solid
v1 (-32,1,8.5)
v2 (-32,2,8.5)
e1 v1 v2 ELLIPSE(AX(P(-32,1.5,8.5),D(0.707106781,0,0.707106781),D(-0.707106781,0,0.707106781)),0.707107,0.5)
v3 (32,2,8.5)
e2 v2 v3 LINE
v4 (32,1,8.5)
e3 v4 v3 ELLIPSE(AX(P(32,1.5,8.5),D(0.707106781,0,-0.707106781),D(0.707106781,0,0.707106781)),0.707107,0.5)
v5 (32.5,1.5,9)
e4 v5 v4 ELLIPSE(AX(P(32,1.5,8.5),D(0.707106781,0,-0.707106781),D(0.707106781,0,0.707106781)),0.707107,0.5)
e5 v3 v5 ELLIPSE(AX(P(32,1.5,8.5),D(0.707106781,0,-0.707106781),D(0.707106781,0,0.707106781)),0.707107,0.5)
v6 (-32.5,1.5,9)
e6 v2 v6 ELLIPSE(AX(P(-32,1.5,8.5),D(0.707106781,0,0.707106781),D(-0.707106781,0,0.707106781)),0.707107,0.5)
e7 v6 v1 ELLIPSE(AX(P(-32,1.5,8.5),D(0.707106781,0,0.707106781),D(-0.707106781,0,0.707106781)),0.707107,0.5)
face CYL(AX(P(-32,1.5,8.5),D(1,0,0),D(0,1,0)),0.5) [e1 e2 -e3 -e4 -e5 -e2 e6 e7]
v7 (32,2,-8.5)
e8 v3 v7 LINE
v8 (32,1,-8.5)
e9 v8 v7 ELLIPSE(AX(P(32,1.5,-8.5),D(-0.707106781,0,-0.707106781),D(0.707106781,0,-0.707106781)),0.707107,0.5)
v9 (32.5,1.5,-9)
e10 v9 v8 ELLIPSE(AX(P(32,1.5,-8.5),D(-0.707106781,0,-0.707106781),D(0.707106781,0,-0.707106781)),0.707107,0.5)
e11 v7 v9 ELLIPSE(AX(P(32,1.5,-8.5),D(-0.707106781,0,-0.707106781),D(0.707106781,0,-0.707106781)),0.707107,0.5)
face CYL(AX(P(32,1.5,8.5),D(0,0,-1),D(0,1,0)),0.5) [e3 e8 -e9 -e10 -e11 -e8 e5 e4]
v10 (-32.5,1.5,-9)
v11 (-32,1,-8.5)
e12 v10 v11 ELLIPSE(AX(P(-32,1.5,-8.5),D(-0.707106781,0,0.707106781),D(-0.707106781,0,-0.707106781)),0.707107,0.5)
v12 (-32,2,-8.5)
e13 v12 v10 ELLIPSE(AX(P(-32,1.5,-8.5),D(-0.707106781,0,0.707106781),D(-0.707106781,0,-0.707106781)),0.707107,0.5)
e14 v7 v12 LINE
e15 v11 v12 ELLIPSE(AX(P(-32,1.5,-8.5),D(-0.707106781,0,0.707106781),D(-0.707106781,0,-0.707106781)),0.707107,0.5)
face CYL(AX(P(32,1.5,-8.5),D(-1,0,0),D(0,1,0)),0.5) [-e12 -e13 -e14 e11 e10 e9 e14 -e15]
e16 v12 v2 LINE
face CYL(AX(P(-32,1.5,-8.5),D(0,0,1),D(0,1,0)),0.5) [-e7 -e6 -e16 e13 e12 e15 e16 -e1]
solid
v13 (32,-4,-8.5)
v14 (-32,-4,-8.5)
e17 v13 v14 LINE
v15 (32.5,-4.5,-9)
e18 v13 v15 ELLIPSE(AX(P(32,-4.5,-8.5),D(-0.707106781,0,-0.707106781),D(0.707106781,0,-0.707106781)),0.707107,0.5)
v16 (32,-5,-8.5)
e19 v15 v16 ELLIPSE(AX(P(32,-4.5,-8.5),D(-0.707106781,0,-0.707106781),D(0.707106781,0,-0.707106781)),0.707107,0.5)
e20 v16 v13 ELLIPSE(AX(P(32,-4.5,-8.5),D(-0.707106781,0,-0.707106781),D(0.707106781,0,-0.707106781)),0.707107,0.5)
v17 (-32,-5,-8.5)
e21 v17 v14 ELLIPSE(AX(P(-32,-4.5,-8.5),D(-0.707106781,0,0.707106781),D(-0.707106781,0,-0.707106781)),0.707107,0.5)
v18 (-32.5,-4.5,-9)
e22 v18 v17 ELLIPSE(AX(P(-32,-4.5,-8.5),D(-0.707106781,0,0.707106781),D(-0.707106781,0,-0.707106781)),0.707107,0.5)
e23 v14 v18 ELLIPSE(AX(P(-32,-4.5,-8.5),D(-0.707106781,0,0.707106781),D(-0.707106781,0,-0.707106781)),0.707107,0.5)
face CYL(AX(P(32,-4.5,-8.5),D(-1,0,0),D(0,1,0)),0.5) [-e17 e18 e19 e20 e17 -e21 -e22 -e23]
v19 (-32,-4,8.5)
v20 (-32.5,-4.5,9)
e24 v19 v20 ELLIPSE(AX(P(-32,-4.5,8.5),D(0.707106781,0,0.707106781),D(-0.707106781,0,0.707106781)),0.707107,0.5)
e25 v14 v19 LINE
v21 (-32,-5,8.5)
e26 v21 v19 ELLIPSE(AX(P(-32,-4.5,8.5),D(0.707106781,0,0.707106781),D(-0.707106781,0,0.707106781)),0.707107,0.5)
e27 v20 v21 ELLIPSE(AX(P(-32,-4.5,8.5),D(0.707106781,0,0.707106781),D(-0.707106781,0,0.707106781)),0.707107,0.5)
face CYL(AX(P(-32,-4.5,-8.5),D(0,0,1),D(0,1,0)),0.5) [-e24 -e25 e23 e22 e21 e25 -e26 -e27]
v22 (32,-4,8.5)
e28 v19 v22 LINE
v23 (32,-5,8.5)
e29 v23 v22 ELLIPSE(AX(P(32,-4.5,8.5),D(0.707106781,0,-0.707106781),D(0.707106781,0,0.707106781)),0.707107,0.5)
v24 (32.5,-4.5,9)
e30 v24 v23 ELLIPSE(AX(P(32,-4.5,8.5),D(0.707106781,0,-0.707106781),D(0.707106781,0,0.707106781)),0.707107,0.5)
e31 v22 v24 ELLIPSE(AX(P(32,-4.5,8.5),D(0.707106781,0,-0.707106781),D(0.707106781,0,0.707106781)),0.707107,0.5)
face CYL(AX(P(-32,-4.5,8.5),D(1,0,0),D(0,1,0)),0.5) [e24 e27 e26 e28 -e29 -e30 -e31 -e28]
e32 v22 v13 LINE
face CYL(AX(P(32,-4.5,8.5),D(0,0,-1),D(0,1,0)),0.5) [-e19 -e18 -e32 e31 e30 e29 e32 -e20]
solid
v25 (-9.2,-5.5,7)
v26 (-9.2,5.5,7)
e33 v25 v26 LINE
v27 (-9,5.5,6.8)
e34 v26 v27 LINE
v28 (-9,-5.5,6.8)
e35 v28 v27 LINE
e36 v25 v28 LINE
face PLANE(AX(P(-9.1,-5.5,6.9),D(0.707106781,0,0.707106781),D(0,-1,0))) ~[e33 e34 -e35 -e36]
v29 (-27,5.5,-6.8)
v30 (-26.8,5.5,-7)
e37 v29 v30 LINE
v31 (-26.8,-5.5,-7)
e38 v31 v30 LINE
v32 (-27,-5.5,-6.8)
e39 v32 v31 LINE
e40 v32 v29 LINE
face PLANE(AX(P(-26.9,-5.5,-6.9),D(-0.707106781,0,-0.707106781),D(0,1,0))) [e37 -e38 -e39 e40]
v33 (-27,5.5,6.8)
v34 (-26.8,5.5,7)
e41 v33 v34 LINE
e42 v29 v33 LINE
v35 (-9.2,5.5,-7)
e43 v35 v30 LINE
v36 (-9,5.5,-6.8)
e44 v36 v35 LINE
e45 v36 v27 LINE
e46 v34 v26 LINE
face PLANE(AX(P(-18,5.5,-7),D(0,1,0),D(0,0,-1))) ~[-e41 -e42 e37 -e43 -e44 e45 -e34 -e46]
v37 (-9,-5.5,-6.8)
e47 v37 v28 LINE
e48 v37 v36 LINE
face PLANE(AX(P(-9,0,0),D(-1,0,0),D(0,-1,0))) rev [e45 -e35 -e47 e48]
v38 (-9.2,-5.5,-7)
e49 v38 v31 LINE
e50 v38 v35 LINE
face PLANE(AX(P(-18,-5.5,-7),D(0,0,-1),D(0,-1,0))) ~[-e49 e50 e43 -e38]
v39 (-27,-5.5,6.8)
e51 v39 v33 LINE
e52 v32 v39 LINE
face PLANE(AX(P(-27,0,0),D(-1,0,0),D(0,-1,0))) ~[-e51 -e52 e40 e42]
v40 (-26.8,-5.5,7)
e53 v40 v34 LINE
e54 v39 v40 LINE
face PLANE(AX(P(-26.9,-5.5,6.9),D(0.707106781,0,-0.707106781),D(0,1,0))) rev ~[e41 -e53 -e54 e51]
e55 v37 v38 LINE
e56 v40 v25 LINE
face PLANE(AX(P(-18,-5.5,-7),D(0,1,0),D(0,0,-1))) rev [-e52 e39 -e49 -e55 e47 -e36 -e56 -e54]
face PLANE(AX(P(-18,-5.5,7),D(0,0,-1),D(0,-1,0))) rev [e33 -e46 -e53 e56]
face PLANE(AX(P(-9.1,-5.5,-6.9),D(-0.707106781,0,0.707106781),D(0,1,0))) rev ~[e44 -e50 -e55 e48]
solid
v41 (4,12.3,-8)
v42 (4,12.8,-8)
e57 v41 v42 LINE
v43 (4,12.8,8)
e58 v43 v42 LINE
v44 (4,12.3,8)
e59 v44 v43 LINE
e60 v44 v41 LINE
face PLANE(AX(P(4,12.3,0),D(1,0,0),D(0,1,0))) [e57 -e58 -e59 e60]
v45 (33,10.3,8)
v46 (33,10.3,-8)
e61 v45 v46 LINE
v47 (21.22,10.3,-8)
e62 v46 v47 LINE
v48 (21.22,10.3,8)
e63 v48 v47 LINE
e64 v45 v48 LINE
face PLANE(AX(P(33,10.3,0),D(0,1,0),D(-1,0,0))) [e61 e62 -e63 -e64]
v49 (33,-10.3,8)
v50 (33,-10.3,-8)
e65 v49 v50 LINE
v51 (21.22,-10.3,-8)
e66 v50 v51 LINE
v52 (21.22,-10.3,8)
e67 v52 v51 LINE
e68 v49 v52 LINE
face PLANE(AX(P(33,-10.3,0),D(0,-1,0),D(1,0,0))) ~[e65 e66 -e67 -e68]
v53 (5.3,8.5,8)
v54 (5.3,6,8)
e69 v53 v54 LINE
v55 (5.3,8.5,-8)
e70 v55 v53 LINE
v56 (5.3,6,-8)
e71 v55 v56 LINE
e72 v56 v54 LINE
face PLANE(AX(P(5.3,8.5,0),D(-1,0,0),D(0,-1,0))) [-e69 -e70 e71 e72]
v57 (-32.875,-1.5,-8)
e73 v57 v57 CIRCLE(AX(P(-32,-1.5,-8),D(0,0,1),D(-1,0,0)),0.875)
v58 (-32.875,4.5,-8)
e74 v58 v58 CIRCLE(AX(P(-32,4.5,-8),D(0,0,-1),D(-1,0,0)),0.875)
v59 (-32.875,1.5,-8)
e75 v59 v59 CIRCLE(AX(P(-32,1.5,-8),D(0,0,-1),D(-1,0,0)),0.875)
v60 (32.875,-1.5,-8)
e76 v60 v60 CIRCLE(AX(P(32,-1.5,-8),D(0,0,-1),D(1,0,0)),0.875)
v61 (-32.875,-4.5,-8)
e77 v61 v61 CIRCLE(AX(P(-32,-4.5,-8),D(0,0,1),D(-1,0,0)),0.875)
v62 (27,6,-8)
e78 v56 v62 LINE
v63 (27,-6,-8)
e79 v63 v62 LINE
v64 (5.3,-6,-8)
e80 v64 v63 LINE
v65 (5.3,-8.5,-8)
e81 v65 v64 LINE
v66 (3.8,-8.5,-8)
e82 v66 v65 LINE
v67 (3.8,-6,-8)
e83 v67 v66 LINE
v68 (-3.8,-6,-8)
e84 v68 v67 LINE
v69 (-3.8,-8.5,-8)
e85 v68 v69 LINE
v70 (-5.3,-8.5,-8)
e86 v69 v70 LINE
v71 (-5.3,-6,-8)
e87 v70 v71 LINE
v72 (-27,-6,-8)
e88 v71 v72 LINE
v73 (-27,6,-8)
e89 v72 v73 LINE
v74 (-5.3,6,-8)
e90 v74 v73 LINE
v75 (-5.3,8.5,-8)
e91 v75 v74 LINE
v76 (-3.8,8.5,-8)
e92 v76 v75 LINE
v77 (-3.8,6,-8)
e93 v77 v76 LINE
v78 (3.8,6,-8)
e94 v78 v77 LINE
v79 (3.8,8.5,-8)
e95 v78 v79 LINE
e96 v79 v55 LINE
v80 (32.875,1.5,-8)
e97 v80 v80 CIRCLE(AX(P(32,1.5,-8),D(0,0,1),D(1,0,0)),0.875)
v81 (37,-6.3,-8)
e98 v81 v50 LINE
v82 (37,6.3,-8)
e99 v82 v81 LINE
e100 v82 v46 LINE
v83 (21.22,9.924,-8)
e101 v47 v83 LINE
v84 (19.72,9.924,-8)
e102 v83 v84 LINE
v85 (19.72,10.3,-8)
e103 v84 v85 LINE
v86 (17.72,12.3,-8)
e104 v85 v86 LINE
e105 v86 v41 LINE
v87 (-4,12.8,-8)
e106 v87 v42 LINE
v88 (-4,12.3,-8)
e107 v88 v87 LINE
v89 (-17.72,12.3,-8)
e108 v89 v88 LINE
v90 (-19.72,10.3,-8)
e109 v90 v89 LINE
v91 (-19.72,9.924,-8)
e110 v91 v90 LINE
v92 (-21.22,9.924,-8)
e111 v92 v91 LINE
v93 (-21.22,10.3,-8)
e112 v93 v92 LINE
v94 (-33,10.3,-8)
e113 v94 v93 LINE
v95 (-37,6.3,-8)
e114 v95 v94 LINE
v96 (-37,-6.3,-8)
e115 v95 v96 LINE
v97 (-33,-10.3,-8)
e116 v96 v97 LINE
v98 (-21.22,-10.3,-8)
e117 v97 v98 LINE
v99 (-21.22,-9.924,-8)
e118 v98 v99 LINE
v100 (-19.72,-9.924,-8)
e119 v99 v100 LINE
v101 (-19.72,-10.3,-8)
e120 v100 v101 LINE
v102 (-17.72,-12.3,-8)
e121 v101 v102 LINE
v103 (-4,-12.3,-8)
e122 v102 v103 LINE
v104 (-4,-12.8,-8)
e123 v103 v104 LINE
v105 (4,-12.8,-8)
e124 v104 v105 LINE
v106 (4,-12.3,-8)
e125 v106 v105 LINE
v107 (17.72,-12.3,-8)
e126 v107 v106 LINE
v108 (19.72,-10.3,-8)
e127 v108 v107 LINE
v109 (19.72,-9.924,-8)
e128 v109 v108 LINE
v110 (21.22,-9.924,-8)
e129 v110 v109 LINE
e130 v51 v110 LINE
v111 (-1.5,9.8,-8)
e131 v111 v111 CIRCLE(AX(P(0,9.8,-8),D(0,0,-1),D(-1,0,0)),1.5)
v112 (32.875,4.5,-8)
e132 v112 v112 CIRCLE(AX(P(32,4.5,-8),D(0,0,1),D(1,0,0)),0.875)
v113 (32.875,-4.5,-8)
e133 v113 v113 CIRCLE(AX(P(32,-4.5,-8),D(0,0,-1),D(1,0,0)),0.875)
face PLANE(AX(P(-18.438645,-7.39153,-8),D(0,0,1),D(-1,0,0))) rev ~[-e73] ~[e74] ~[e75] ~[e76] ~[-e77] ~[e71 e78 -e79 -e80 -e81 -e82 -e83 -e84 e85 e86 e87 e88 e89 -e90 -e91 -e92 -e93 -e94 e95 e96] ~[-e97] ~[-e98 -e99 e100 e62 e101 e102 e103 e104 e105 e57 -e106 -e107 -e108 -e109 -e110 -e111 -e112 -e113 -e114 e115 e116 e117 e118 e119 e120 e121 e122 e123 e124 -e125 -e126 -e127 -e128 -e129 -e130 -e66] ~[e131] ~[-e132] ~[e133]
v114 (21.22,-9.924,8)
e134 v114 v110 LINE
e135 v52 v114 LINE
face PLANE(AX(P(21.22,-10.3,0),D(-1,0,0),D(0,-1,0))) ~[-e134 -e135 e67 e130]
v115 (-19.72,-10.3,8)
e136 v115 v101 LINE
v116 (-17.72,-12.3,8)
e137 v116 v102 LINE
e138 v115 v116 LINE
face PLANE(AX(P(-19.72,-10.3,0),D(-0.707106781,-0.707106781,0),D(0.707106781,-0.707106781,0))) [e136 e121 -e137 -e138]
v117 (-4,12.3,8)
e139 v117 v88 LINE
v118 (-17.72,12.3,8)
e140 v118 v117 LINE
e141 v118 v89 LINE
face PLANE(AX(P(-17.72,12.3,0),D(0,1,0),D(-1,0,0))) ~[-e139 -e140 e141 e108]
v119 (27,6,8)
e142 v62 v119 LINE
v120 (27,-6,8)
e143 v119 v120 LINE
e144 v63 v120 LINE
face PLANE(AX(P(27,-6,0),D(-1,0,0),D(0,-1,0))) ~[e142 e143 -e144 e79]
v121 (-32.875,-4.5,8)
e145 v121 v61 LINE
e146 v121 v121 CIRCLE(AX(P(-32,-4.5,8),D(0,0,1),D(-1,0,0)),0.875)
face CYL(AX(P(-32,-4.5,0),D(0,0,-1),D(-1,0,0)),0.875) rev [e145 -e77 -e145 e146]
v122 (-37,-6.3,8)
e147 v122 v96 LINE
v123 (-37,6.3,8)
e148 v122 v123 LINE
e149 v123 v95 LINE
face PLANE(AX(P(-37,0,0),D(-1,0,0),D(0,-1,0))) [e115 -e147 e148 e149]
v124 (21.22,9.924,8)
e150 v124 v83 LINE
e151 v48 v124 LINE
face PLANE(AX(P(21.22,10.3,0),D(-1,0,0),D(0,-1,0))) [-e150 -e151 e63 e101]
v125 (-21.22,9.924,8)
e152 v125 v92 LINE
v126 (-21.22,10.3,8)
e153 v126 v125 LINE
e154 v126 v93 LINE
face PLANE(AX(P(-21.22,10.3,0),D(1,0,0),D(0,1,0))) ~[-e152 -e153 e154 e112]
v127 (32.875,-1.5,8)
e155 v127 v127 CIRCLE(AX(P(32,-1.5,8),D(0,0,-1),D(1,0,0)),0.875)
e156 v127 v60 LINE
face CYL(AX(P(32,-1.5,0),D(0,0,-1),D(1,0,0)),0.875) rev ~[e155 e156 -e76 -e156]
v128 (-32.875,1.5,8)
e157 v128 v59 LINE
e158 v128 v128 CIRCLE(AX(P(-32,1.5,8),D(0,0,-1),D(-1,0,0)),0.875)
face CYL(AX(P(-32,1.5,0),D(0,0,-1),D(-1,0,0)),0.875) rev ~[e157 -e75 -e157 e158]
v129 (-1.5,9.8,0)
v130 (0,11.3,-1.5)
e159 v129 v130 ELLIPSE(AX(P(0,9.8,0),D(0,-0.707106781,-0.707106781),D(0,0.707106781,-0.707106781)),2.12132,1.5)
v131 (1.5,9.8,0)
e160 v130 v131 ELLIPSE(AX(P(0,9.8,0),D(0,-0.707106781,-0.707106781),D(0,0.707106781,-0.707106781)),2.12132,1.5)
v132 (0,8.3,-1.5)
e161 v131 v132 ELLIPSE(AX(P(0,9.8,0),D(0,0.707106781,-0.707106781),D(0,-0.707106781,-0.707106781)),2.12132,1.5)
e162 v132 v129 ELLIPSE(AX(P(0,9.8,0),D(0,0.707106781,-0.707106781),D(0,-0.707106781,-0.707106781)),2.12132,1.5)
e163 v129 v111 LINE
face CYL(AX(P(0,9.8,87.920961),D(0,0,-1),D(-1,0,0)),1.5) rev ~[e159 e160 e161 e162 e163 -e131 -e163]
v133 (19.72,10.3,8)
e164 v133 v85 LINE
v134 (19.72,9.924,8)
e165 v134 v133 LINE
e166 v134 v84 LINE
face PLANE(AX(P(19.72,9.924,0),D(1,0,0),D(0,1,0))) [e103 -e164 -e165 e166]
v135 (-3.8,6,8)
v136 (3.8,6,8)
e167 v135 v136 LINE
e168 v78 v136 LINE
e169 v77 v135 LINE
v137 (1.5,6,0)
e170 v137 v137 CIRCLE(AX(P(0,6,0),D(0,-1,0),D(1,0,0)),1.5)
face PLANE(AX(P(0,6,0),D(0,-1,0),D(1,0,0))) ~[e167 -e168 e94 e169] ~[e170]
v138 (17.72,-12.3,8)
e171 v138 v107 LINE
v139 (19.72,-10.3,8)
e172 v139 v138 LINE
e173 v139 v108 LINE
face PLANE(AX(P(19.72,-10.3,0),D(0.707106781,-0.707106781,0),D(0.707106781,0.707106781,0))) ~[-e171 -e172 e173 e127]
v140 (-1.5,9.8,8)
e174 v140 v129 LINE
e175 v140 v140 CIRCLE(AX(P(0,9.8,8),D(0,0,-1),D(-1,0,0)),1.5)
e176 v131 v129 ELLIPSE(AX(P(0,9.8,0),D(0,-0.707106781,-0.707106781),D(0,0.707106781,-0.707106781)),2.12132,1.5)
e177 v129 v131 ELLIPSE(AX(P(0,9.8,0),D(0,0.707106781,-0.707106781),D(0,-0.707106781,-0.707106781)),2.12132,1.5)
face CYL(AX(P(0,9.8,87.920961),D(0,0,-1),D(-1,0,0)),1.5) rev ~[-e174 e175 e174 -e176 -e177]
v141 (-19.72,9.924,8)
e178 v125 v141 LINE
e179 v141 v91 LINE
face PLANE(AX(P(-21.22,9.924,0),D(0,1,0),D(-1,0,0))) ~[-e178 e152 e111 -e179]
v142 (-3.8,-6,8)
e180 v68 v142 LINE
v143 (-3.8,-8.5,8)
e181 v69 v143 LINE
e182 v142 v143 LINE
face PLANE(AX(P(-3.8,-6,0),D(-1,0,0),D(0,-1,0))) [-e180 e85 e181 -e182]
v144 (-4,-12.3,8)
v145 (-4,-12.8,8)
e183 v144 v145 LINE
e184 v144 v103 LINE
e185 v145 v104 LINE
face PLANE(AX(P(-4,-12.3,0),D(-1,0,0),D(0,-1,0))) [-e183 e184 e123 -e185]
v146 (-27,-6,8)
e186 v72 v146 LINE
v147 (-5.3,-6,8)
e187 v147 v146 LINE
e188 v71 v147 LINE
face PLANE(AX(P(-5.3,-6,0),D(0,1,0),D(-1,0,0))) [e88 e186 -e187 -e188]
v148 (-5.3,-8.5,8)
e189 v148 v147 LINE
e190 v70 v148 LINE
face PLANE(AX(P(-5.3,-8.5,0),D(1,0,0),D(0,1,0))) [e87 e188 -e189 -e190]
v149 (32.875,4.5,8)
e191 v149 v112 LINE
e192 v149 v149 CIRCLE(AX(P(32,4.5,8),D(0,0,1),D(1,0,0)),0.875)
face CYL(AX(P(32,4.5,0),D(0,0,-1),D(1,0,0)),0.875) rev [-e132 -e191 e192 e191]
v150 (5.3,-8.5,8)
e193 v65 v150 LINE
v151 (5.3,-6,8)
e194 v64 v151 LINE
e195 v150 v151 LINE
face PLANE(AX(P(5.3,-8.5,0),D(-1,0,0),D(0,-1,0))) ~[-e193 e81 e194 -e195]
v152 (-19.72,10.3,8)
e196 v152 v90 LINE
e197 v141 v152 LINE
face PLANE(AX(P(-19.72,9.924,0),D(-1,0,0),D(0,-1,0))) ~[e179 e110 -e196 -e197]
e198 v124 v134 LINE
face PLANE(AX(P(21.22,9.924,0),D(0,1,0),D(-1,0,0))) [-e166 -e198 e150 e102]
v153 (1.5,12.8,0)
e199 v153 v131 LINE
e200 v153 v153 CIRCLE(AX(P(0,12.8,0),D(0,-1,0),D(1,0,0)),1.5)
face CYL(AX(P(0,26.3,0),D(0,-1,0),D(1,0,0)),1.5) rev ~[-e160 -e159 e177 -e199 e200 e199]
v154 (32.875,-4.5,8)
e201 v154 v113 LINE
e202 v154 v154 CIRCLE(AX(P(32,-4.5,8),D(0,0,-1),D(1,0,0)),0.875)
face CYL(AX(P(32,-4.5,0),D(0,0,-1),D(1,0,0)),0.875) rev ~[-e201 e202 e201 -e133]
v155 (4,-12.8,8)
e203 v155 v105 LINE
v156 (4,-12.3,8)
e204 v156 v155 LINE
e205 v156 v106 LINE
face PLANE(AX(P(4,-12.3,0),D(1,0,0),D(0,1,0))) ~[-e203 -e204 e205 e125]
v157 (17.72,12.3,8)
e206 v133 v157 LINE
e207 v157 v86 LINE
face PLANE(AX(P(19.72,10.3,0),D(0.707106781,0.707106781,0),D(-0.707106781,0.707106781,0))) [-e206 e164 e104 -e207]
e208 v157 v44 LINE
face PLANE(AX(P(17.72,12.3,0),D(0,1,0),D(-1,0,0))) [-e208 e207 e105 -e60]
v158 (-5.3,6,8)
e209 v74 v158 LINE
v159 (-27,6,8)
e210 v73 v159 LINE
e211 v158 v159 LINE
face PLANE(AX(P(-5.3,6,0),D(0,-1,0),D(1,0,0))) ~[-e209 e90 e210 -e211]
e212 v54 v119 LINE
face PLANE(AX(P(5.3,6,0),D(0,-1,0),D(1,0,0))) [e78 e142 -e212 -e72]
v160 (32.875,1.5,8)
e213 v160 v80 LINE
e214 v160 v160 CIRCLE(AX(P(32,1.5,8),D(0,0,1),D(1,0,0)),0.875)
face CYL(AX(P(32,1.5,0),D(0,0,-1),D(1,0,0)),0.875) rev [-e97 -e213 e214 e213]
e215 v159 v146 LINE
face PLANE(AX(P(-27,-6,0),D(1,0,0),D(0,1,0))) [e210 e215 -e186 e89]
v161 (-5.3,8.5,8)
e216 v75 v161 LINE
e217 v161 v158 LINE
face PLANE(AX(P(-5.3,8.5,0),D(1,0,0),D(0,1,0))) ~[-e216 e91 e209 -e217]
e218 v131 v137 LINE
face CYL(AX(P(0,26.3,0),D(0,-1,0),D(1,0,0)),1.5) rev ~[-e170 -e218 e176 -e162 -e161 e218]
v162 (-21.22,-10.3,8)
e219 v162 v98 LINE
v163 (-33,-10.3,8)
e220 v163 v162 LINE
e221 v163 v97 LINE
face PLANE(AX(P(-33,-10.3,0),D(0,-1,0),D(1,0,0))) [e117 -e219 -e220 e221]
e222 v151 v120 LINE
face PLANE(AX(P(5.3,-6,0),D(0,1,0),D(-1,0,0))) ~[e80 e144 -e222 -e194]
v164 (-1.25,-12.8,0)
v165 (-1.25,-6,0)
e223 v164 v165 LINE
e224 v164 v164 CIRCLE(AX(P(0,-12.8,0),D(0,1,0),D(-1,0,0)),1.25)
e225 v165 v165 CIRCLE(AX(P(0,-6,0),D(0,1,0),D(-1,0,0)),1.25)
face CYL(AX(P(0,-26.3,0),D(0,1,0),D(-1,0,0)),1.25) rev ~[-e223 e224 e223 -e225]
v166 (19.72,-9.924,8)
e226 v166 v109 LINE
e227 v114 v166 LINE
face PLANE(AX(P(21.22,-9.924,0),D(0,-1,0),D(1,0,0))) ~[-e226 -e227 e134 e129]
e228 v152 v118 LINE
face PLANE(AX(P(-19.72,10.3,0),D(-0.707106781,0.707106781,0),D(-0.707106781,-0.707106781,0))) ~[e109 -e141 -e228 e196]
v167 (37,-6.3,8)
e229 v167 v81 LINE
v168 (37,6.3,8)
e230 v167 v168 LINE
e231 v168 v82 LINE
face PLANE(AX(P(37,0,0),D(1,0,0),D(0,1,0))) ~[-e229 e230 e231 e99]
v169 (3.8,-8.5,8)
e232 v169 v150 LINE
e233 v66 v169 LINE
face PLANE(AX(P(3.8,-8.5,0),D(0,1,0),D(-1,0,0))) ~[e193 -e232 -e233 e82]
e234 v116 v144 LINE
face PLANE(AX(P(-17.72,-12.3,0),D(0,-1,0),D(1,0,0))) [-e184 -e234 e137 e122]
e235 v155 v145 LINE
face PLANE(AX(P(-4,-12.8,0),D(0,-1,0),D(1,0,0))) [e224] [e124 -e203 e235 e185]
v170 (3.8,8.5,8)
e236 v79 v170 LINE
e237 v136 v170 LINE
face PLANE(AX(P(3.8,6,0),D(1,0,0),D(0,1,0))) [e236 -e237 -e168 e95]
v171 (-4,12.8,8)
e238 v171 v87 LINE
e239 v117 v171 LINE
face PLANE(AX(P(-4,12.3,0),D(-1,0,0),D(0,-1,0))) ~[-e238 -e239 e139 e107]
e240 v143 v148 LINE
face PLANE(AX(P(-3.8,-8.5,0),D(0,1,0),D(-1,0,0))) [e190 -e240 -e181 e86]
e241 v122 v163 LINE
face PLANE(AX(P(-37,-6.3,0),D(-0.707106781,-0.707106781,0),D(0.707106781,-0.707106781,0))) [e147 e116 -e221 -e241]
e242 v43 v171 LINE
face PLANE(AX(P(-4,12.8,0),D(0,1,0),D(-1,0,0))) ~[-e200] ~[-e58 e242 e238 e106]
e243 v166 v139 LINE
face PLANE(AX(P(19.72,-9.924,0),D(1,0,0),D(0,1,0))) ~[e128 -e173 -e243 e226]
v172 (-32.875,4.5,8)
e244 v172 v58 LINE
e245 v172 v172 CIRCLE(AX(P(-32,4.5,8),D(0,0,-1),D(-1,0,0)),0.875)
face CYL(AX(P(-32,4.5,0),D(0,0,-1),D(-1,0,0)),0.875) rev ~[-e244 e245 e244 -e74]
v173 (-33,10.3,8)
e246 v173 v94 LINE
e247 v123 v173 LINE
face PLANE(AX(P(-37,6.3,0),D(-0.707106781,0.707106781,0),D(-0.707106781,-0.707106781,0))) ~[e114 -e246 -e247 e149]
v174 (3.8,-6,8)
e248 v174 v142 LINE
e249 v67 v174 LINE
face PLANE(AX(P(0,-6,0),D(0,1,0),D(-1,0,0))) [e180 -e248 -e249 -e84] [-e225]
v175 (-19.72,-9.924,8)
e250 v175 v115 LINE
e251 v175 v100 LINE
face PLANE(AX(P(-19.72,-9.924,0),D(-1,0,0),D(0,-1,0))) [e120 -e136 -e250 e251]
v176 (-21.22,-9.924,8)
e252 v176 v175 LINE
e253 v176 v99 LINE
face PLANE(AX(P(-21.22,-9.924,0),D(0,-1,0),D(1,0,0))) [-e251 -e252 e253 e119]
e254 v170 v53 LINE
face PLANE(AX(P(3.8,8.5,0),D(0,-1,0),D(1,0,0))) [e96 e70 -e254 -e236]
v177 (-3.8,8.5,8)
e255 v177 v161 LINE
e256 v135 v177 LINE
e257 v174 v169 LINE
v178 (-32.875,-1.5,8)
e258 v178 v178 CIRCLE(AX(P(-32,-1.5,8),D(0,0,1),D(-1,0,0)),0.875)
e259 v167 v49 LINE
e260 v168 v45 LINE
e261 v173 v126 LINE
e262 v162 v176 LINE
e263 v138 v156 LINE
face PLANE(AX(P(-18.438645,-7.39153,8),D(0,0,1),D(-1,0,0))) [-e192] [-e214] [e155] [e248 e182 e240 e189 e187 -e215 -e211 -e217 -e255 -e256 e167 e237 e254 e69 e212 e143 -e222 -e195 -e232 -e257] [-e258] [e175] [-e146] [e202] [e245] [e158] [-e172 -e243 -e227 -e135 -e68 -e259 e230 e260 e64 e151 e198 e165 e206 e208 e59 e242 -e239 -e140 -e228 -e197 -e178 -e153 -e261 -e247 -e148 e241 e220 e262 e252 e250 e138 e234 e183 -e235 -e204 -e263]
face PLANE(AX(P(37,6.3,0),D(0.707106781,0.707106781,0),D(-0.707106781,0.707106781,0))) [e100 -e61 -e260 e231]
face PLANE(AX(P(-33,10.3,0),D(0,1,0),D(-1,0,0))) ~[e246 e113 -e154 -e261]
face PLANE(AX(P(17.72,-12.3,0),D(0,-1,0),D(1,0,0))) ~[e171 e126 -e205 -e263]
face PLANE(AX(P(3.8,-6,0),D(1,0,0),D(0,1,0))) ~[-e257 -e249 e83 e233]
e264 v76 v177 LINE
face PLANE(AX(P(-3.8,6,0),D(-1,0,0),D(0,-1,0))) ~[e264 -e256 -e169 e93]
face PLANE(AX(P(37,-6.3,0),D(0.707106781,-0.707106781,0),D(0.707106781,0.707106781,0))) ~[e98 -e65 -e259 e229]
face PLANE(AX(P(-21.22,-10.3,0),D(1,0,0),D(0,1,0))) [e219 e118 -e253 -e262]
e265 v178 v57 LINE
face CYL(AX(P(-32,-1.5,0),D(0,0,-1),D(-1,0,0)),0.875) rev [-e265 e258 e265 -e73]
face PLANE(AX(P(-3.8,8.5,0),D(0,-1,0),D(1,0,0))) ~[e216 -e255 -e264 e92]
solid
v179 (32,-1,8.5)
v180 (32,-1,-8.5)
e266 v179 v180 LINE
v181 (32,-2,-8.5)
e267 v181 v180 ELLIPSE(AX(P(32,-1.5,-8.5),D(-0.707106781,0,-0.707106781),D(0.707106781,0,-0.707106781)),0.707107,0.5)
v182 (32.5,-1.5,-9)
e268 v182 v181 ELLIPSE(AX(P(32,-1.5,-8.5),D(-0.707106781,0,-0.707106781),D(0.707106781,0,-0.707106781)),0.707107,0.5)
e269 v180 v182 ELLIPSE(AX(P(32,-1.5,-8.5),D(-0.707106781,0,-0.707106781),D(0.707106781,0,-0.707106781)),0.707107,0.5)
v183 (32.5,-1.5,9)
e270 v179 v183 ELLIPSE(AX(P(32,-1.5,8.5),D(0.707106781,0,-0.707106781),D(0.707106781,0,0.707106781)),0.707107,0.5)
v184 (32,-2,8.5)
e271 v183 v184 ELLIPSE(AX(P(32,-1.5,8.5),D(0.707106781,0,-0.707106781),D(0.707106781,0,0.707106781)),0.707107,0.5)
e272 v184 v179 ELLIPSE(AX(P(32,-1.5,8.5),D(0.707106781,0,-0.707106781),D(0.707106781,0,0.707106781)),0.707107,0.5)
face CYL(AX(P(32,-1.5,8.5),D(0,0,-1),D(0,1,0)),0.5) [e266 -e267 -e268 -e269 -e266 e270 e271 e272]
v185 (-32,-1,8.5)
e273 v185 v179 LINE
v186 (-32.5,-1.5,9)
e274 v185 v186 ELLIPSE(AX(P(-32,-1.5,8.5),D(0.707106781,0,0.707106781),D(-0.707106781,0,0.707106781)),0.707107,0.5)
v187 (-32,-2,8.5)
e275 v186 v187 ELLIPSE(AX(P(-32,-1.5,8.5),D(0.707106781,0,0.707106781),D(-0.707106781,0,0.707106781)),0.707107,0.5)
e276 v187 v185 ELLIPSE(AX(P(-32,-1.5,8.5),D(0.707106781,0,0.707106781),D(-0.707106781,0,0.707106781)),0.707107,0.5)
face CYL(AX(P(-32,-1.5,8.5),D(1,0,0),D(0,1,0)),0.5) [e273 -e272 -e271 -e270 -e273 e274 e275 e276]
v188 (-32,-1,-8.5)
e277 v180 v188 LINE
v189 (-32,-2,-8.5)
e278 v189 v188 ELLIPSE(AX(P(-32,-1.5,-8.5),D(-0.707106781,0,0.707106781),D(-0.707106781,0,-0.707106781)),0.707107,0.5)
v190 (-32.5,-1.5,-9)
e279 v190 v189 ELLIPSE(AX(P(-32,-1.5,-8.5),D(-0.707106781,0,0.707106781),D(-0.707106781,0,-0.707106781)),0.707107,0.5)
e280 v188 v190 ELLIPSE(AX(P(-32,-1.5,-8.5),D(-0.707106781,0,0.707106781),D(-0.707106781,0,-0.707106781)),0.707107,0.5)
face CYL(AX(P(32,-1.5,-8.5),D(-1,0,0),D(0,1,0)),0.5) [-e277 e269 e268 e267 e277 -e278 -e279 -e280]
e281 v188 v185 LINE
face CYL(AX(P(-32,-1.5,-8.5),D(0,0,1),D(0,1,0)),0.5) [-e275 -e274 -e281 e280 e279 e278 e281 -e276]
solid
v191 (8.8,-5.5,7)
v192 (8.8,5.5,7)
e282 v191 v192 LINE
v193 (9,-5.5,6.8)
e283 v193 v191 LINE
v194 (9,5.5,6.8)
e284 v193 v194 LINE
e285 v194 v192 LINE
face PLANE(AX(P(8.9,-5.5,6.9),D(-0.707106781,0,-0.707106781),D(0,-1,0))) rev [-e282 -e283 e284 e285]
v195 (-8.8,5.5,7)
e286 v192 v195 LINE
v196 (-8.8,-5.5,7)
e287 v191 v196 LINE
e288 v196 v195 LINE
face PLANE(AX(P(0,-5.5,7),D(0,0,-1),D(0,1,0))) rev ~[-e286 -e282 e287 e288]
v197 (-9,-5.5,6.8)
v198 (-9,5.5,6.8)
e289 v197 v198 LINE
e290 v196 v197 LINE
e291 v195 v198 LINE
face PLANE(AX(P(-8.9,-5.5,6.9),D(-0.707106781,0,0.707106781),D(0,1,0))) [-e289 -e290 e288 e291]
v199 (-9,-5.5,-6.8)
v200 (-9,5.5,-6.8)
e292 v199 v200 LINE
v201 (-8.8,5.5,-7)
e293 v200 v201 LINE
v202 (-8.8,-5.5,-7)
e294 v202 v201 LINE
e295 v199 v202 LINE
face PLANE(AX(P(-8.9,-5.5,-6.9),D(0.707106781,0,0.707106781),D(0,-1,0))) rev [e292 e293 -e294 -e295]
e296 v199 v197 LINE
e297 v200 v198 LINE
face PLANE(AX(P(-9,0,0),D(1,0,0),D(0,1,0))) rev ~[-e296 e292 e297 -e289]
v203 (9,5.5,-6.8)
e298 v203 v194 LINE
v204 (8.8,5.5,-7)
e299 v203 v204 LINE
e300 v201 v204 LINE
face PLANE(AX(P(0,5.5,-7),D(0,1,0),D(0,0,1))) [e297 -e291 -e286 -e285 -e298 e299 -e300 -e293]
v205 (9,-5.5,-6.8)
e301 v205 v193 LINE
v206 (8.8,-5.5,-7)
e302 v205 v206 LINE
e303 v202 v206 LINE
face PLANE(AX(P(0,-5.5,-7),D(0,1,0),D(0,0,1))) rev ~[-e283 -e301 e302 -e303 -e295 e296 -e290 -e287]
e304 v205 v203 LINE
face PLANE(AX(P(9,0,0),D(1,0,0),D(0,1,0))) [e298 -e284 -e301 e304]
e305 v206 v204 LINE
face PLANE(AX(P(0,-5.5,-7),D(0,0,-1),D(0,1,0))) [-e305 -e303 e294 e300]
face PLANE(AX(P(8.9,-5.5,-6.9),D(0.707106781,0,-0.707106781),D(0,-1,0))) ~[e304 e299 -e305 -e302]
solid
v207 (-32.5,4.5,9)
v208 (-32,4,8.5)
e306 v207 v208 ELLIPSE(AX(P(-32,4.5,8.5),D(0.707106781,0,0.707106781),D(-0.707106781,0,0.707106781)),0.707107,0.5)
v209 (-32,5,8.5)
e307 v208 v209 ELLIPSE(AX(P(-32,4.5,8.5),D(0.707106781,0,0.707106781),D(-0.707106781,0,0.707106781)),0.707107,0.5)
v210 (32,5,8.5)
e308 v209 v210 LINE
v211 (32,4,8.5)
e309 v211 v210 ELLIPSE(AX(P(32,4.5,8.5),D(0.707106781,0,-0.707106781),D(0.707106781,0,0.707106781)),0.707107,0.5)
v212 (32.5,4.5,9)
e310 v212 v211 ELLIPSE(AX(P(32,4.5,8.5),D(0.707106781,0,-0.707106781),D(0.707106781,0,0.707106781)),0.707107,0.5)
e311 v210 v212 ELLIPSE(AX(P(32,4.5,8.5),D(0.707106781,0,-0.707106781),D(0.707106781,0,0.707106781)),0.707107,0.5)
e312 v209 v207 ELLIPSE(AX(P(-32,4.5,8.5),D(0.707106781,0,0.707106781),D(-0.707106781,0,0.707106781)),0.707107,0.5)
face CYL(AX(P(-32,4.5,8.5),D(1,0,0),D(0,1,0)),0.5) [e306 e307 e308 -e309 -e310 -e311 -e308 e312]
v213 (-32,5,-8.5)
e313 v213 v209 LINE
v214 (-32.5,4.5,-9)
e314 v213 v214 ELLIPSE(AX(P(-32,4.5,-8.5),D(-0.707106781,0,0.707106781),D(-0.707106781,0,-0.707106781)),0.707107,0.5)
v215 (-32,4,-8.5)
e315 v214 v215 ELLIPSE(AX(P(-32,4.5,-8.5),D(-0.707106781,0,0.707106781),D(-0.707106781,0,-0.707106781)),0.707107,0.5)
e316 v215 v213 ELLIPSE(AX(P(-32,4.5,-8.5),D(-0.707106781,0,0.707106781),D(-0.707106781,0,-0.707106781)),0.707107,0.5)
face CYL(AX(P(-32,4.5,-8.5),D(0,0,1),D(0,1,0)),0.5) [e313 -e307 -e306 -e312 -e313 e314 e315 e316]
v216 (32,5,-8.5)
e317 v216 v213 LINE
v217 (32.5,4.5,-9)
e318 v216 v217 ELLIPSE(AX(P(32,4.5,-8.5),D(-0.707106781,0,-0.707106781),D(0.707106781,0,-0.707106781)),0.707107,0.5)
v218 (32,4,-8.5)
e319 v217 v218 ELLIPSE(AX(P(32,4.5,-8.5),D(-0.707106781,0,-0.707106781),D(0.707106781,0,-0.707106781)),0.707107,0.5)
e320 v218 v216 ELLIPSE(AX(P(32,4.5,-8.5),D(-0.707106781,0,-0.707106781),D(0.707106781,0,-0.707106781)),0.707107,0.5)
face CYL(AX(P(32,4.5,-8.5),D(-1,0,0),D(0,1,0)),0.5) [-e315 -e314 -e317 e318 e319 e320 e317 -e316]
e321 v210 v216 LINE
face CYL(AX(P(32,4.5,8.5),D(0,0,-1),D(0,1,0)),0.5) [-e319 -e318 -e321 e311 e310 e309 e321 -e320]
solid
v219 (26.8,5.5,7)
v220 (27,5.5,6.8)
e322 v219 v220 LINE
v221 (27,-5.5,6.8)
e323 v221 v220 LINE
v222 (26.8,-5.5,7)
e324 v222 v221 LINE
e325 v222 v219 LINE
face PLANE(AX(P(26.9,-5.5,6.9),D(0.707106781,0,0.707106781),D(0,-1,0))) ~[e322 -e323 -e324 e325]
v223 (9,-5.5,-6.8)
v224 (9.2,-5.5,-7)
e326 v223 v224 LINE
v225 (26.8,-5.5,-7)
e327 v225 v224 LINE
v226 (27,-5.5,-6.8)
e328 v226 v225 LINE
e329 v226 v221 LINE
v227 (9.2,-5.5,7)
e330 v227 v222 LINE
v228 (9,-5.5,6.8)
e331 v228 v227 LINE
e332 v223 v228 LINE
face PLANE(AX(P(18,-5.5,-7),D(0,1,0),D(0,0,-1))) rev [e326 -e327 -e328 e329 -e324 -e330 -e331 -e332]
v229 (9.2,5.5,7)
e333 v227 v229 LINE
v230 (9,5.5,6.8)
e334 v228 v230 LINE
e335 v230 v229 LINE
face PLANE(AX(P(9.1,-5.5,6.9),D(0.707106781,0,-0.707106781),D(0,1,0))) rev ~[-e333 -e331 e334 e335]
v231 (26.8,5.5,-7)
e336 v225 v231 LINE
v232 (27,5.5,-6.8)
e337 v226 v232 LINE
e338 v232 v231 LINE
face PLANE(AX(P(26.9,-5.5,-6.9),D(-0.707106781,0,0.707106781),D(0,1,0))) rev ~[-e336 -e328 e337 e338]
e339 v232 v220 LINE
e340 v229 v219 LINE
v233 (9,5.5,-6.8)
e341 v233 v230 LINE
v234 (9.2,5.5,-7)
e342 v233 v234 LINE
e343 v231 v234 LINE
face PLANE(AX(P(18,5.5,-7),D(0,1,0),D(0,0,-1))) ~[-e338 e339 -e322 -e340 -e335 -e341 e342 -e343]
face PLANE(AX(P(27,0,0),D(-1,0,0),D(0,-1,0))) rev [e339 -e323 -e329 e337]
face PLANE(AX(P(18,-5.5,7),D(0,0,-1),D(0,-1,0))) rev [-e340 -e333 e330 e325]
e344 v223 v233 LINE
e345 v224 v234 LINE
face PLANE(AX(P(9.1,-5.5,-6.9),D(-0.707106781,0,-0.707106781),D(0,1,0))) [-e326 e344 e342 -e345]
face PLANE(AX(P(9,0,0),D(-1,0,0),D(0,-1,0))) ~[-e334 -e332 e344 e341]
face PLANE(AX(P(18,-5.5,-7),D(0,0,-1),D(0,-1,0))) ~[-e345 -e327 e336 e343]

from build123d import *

# Parameters (mm, degrees)
F0_R      = 0.875
F1_DEPTH  = 8
F5_D      = 3
F7_D      = 2.5
F7_DEPTH  = 13.5
F7_TIP    = 0.7510757738
F9_D      = 3
F9_DEPTH  = 13.5
F9_TIP    = 0.9012909285
F11_R     = 0.5
F13_W     = 11
F13_H     = 14
F14_DEPTH = 9
F15_SIZE  = 0.2


with BuildPart() as f1:
    # F0 (on Top) → F1 (new body, symmetric)
    with BuildSketch(Plane.XY):
        Polygon((4, 12.8), (0, 12.8), (0, 6), (3.8, 6), (3.8, 8.5), (5.3, 8.5), (5.3, 6), (27, 6), (27, 0), (37, 0), (37, 6.3), (33, 10.3), (21.22, 10.3), (21.22, 9.924), (19.72, 9.924), (19.72, 10.3), (17.72, 12.3), (4, 12.3), align=None)
        with Locations((32, 1.5)):
            Circle(F0_R, mode=Mode.SUBTRACT)
        with Locations((32, 4.5)):
            Circle(F0_R, mode=Mode.SUBTRACT)
    extrude(amount=F1_DEPTH, both=True)

    # F2: F1 across plane


with BuildPart() as f1_1:
    add(f1.part)
    add(f1.part.mirror(Plane.XZ))

    # F3: F1 across plane


with BuildPart() as f1_2:
    add(f1_1.part)
    add(f1_1.part.mirror(Plane.YZ))

    # F5 (through all)
    with Locations(Plane.XY.offset(8)):
        with Locations((0, 9.8)):
            Hole(F5_D / 2)

    # F7
    with Locations(Plane.XZ.offset(12.8)):
        with Locations((0, 0)):
            Hole(F7_D / 2, depth=F7_DEPTH)
            with Locations((0, 0, -(F7_DEPTH + F7_TIP / 2))):  # 118° drill point
                Cone(0, F7_D / 2, F7_TIP, mode=Mode.SUBTRACT)

    # F9
    with Locations(Plane(origin=(0, 12.8, 0), x_dir=(-1, 0, 0), z_dir=(0, 1, 0))):
        with Locations((0, 0)):
            Hole(F9_D / 2, depth=F9_DEPTH)
            with Locations((0, 0, -(F9_DEPTH + F9_TIP / 2))):  # 118° drill point
                Cone(0, F9_D / 2, F9_TIP, mode=Mode.SUBTRACT)


with BuildPart() as f12:
    # F12: sweep along a path in F10
    with BuildLine(Plane.XZ) as f12_path:
        Line((32, -8.5), (-32, -8.5))
        Line((-32, -8.5), (-32, 8.5))
        Line((-32, 8.5), (32, 8.5))
        Line((32, 8.5), (32, -8.5))
    # F11 (on Right) → F12 (sweep)
    with BuildSketch(Plane.YZ):
        with Locations((-4.5, 8.5)):
            Circle(F11_R)
        with Locations((-1.5, 8.5)):
            Circle(F11_R)
        with Locations((1.5, 8.5)):
            Circle(F11_R)
        with Locations((4.5, 8.5)):
            Circle(F11_R)
    sweep(path=f12_path.line, transition=Transition.RIGHT)


with BuildPart() as f14:
    # F13 (on Right) → F14 (new body, symmetric)
    with BuildSketch(Plane.YZ):
        Rectangle(F13_W, F13_H)
    extrude(amount=F14_DEPTH, both=True)

    # F15
    f15_edges = [f14.edges().sort_by_distance(p)[0] for p in [
        (9, 0, 7),
        (-9, 0, 7),
        (9, 0, -7),
        (-9, 0, -7),
    ]]
    chamfer(f15_edges, length=F15_SIZE)


with BuildPart() as f16_1:
    # F16: instance of F14
    add(f14.part.mirror(Plane(origin=(-9, 0, 0), x_dir=(0, 1, 0), z_dir=(-1, 0, 0))))


with BuildPart() as f17_1:
    # F17: instance of F14
    add(f14.part.mirror(Plane.YZ.offset(9)))


solid = Compound([f1_2.part, f12.part, f14.part, f16_1.part, f17_1.part])
